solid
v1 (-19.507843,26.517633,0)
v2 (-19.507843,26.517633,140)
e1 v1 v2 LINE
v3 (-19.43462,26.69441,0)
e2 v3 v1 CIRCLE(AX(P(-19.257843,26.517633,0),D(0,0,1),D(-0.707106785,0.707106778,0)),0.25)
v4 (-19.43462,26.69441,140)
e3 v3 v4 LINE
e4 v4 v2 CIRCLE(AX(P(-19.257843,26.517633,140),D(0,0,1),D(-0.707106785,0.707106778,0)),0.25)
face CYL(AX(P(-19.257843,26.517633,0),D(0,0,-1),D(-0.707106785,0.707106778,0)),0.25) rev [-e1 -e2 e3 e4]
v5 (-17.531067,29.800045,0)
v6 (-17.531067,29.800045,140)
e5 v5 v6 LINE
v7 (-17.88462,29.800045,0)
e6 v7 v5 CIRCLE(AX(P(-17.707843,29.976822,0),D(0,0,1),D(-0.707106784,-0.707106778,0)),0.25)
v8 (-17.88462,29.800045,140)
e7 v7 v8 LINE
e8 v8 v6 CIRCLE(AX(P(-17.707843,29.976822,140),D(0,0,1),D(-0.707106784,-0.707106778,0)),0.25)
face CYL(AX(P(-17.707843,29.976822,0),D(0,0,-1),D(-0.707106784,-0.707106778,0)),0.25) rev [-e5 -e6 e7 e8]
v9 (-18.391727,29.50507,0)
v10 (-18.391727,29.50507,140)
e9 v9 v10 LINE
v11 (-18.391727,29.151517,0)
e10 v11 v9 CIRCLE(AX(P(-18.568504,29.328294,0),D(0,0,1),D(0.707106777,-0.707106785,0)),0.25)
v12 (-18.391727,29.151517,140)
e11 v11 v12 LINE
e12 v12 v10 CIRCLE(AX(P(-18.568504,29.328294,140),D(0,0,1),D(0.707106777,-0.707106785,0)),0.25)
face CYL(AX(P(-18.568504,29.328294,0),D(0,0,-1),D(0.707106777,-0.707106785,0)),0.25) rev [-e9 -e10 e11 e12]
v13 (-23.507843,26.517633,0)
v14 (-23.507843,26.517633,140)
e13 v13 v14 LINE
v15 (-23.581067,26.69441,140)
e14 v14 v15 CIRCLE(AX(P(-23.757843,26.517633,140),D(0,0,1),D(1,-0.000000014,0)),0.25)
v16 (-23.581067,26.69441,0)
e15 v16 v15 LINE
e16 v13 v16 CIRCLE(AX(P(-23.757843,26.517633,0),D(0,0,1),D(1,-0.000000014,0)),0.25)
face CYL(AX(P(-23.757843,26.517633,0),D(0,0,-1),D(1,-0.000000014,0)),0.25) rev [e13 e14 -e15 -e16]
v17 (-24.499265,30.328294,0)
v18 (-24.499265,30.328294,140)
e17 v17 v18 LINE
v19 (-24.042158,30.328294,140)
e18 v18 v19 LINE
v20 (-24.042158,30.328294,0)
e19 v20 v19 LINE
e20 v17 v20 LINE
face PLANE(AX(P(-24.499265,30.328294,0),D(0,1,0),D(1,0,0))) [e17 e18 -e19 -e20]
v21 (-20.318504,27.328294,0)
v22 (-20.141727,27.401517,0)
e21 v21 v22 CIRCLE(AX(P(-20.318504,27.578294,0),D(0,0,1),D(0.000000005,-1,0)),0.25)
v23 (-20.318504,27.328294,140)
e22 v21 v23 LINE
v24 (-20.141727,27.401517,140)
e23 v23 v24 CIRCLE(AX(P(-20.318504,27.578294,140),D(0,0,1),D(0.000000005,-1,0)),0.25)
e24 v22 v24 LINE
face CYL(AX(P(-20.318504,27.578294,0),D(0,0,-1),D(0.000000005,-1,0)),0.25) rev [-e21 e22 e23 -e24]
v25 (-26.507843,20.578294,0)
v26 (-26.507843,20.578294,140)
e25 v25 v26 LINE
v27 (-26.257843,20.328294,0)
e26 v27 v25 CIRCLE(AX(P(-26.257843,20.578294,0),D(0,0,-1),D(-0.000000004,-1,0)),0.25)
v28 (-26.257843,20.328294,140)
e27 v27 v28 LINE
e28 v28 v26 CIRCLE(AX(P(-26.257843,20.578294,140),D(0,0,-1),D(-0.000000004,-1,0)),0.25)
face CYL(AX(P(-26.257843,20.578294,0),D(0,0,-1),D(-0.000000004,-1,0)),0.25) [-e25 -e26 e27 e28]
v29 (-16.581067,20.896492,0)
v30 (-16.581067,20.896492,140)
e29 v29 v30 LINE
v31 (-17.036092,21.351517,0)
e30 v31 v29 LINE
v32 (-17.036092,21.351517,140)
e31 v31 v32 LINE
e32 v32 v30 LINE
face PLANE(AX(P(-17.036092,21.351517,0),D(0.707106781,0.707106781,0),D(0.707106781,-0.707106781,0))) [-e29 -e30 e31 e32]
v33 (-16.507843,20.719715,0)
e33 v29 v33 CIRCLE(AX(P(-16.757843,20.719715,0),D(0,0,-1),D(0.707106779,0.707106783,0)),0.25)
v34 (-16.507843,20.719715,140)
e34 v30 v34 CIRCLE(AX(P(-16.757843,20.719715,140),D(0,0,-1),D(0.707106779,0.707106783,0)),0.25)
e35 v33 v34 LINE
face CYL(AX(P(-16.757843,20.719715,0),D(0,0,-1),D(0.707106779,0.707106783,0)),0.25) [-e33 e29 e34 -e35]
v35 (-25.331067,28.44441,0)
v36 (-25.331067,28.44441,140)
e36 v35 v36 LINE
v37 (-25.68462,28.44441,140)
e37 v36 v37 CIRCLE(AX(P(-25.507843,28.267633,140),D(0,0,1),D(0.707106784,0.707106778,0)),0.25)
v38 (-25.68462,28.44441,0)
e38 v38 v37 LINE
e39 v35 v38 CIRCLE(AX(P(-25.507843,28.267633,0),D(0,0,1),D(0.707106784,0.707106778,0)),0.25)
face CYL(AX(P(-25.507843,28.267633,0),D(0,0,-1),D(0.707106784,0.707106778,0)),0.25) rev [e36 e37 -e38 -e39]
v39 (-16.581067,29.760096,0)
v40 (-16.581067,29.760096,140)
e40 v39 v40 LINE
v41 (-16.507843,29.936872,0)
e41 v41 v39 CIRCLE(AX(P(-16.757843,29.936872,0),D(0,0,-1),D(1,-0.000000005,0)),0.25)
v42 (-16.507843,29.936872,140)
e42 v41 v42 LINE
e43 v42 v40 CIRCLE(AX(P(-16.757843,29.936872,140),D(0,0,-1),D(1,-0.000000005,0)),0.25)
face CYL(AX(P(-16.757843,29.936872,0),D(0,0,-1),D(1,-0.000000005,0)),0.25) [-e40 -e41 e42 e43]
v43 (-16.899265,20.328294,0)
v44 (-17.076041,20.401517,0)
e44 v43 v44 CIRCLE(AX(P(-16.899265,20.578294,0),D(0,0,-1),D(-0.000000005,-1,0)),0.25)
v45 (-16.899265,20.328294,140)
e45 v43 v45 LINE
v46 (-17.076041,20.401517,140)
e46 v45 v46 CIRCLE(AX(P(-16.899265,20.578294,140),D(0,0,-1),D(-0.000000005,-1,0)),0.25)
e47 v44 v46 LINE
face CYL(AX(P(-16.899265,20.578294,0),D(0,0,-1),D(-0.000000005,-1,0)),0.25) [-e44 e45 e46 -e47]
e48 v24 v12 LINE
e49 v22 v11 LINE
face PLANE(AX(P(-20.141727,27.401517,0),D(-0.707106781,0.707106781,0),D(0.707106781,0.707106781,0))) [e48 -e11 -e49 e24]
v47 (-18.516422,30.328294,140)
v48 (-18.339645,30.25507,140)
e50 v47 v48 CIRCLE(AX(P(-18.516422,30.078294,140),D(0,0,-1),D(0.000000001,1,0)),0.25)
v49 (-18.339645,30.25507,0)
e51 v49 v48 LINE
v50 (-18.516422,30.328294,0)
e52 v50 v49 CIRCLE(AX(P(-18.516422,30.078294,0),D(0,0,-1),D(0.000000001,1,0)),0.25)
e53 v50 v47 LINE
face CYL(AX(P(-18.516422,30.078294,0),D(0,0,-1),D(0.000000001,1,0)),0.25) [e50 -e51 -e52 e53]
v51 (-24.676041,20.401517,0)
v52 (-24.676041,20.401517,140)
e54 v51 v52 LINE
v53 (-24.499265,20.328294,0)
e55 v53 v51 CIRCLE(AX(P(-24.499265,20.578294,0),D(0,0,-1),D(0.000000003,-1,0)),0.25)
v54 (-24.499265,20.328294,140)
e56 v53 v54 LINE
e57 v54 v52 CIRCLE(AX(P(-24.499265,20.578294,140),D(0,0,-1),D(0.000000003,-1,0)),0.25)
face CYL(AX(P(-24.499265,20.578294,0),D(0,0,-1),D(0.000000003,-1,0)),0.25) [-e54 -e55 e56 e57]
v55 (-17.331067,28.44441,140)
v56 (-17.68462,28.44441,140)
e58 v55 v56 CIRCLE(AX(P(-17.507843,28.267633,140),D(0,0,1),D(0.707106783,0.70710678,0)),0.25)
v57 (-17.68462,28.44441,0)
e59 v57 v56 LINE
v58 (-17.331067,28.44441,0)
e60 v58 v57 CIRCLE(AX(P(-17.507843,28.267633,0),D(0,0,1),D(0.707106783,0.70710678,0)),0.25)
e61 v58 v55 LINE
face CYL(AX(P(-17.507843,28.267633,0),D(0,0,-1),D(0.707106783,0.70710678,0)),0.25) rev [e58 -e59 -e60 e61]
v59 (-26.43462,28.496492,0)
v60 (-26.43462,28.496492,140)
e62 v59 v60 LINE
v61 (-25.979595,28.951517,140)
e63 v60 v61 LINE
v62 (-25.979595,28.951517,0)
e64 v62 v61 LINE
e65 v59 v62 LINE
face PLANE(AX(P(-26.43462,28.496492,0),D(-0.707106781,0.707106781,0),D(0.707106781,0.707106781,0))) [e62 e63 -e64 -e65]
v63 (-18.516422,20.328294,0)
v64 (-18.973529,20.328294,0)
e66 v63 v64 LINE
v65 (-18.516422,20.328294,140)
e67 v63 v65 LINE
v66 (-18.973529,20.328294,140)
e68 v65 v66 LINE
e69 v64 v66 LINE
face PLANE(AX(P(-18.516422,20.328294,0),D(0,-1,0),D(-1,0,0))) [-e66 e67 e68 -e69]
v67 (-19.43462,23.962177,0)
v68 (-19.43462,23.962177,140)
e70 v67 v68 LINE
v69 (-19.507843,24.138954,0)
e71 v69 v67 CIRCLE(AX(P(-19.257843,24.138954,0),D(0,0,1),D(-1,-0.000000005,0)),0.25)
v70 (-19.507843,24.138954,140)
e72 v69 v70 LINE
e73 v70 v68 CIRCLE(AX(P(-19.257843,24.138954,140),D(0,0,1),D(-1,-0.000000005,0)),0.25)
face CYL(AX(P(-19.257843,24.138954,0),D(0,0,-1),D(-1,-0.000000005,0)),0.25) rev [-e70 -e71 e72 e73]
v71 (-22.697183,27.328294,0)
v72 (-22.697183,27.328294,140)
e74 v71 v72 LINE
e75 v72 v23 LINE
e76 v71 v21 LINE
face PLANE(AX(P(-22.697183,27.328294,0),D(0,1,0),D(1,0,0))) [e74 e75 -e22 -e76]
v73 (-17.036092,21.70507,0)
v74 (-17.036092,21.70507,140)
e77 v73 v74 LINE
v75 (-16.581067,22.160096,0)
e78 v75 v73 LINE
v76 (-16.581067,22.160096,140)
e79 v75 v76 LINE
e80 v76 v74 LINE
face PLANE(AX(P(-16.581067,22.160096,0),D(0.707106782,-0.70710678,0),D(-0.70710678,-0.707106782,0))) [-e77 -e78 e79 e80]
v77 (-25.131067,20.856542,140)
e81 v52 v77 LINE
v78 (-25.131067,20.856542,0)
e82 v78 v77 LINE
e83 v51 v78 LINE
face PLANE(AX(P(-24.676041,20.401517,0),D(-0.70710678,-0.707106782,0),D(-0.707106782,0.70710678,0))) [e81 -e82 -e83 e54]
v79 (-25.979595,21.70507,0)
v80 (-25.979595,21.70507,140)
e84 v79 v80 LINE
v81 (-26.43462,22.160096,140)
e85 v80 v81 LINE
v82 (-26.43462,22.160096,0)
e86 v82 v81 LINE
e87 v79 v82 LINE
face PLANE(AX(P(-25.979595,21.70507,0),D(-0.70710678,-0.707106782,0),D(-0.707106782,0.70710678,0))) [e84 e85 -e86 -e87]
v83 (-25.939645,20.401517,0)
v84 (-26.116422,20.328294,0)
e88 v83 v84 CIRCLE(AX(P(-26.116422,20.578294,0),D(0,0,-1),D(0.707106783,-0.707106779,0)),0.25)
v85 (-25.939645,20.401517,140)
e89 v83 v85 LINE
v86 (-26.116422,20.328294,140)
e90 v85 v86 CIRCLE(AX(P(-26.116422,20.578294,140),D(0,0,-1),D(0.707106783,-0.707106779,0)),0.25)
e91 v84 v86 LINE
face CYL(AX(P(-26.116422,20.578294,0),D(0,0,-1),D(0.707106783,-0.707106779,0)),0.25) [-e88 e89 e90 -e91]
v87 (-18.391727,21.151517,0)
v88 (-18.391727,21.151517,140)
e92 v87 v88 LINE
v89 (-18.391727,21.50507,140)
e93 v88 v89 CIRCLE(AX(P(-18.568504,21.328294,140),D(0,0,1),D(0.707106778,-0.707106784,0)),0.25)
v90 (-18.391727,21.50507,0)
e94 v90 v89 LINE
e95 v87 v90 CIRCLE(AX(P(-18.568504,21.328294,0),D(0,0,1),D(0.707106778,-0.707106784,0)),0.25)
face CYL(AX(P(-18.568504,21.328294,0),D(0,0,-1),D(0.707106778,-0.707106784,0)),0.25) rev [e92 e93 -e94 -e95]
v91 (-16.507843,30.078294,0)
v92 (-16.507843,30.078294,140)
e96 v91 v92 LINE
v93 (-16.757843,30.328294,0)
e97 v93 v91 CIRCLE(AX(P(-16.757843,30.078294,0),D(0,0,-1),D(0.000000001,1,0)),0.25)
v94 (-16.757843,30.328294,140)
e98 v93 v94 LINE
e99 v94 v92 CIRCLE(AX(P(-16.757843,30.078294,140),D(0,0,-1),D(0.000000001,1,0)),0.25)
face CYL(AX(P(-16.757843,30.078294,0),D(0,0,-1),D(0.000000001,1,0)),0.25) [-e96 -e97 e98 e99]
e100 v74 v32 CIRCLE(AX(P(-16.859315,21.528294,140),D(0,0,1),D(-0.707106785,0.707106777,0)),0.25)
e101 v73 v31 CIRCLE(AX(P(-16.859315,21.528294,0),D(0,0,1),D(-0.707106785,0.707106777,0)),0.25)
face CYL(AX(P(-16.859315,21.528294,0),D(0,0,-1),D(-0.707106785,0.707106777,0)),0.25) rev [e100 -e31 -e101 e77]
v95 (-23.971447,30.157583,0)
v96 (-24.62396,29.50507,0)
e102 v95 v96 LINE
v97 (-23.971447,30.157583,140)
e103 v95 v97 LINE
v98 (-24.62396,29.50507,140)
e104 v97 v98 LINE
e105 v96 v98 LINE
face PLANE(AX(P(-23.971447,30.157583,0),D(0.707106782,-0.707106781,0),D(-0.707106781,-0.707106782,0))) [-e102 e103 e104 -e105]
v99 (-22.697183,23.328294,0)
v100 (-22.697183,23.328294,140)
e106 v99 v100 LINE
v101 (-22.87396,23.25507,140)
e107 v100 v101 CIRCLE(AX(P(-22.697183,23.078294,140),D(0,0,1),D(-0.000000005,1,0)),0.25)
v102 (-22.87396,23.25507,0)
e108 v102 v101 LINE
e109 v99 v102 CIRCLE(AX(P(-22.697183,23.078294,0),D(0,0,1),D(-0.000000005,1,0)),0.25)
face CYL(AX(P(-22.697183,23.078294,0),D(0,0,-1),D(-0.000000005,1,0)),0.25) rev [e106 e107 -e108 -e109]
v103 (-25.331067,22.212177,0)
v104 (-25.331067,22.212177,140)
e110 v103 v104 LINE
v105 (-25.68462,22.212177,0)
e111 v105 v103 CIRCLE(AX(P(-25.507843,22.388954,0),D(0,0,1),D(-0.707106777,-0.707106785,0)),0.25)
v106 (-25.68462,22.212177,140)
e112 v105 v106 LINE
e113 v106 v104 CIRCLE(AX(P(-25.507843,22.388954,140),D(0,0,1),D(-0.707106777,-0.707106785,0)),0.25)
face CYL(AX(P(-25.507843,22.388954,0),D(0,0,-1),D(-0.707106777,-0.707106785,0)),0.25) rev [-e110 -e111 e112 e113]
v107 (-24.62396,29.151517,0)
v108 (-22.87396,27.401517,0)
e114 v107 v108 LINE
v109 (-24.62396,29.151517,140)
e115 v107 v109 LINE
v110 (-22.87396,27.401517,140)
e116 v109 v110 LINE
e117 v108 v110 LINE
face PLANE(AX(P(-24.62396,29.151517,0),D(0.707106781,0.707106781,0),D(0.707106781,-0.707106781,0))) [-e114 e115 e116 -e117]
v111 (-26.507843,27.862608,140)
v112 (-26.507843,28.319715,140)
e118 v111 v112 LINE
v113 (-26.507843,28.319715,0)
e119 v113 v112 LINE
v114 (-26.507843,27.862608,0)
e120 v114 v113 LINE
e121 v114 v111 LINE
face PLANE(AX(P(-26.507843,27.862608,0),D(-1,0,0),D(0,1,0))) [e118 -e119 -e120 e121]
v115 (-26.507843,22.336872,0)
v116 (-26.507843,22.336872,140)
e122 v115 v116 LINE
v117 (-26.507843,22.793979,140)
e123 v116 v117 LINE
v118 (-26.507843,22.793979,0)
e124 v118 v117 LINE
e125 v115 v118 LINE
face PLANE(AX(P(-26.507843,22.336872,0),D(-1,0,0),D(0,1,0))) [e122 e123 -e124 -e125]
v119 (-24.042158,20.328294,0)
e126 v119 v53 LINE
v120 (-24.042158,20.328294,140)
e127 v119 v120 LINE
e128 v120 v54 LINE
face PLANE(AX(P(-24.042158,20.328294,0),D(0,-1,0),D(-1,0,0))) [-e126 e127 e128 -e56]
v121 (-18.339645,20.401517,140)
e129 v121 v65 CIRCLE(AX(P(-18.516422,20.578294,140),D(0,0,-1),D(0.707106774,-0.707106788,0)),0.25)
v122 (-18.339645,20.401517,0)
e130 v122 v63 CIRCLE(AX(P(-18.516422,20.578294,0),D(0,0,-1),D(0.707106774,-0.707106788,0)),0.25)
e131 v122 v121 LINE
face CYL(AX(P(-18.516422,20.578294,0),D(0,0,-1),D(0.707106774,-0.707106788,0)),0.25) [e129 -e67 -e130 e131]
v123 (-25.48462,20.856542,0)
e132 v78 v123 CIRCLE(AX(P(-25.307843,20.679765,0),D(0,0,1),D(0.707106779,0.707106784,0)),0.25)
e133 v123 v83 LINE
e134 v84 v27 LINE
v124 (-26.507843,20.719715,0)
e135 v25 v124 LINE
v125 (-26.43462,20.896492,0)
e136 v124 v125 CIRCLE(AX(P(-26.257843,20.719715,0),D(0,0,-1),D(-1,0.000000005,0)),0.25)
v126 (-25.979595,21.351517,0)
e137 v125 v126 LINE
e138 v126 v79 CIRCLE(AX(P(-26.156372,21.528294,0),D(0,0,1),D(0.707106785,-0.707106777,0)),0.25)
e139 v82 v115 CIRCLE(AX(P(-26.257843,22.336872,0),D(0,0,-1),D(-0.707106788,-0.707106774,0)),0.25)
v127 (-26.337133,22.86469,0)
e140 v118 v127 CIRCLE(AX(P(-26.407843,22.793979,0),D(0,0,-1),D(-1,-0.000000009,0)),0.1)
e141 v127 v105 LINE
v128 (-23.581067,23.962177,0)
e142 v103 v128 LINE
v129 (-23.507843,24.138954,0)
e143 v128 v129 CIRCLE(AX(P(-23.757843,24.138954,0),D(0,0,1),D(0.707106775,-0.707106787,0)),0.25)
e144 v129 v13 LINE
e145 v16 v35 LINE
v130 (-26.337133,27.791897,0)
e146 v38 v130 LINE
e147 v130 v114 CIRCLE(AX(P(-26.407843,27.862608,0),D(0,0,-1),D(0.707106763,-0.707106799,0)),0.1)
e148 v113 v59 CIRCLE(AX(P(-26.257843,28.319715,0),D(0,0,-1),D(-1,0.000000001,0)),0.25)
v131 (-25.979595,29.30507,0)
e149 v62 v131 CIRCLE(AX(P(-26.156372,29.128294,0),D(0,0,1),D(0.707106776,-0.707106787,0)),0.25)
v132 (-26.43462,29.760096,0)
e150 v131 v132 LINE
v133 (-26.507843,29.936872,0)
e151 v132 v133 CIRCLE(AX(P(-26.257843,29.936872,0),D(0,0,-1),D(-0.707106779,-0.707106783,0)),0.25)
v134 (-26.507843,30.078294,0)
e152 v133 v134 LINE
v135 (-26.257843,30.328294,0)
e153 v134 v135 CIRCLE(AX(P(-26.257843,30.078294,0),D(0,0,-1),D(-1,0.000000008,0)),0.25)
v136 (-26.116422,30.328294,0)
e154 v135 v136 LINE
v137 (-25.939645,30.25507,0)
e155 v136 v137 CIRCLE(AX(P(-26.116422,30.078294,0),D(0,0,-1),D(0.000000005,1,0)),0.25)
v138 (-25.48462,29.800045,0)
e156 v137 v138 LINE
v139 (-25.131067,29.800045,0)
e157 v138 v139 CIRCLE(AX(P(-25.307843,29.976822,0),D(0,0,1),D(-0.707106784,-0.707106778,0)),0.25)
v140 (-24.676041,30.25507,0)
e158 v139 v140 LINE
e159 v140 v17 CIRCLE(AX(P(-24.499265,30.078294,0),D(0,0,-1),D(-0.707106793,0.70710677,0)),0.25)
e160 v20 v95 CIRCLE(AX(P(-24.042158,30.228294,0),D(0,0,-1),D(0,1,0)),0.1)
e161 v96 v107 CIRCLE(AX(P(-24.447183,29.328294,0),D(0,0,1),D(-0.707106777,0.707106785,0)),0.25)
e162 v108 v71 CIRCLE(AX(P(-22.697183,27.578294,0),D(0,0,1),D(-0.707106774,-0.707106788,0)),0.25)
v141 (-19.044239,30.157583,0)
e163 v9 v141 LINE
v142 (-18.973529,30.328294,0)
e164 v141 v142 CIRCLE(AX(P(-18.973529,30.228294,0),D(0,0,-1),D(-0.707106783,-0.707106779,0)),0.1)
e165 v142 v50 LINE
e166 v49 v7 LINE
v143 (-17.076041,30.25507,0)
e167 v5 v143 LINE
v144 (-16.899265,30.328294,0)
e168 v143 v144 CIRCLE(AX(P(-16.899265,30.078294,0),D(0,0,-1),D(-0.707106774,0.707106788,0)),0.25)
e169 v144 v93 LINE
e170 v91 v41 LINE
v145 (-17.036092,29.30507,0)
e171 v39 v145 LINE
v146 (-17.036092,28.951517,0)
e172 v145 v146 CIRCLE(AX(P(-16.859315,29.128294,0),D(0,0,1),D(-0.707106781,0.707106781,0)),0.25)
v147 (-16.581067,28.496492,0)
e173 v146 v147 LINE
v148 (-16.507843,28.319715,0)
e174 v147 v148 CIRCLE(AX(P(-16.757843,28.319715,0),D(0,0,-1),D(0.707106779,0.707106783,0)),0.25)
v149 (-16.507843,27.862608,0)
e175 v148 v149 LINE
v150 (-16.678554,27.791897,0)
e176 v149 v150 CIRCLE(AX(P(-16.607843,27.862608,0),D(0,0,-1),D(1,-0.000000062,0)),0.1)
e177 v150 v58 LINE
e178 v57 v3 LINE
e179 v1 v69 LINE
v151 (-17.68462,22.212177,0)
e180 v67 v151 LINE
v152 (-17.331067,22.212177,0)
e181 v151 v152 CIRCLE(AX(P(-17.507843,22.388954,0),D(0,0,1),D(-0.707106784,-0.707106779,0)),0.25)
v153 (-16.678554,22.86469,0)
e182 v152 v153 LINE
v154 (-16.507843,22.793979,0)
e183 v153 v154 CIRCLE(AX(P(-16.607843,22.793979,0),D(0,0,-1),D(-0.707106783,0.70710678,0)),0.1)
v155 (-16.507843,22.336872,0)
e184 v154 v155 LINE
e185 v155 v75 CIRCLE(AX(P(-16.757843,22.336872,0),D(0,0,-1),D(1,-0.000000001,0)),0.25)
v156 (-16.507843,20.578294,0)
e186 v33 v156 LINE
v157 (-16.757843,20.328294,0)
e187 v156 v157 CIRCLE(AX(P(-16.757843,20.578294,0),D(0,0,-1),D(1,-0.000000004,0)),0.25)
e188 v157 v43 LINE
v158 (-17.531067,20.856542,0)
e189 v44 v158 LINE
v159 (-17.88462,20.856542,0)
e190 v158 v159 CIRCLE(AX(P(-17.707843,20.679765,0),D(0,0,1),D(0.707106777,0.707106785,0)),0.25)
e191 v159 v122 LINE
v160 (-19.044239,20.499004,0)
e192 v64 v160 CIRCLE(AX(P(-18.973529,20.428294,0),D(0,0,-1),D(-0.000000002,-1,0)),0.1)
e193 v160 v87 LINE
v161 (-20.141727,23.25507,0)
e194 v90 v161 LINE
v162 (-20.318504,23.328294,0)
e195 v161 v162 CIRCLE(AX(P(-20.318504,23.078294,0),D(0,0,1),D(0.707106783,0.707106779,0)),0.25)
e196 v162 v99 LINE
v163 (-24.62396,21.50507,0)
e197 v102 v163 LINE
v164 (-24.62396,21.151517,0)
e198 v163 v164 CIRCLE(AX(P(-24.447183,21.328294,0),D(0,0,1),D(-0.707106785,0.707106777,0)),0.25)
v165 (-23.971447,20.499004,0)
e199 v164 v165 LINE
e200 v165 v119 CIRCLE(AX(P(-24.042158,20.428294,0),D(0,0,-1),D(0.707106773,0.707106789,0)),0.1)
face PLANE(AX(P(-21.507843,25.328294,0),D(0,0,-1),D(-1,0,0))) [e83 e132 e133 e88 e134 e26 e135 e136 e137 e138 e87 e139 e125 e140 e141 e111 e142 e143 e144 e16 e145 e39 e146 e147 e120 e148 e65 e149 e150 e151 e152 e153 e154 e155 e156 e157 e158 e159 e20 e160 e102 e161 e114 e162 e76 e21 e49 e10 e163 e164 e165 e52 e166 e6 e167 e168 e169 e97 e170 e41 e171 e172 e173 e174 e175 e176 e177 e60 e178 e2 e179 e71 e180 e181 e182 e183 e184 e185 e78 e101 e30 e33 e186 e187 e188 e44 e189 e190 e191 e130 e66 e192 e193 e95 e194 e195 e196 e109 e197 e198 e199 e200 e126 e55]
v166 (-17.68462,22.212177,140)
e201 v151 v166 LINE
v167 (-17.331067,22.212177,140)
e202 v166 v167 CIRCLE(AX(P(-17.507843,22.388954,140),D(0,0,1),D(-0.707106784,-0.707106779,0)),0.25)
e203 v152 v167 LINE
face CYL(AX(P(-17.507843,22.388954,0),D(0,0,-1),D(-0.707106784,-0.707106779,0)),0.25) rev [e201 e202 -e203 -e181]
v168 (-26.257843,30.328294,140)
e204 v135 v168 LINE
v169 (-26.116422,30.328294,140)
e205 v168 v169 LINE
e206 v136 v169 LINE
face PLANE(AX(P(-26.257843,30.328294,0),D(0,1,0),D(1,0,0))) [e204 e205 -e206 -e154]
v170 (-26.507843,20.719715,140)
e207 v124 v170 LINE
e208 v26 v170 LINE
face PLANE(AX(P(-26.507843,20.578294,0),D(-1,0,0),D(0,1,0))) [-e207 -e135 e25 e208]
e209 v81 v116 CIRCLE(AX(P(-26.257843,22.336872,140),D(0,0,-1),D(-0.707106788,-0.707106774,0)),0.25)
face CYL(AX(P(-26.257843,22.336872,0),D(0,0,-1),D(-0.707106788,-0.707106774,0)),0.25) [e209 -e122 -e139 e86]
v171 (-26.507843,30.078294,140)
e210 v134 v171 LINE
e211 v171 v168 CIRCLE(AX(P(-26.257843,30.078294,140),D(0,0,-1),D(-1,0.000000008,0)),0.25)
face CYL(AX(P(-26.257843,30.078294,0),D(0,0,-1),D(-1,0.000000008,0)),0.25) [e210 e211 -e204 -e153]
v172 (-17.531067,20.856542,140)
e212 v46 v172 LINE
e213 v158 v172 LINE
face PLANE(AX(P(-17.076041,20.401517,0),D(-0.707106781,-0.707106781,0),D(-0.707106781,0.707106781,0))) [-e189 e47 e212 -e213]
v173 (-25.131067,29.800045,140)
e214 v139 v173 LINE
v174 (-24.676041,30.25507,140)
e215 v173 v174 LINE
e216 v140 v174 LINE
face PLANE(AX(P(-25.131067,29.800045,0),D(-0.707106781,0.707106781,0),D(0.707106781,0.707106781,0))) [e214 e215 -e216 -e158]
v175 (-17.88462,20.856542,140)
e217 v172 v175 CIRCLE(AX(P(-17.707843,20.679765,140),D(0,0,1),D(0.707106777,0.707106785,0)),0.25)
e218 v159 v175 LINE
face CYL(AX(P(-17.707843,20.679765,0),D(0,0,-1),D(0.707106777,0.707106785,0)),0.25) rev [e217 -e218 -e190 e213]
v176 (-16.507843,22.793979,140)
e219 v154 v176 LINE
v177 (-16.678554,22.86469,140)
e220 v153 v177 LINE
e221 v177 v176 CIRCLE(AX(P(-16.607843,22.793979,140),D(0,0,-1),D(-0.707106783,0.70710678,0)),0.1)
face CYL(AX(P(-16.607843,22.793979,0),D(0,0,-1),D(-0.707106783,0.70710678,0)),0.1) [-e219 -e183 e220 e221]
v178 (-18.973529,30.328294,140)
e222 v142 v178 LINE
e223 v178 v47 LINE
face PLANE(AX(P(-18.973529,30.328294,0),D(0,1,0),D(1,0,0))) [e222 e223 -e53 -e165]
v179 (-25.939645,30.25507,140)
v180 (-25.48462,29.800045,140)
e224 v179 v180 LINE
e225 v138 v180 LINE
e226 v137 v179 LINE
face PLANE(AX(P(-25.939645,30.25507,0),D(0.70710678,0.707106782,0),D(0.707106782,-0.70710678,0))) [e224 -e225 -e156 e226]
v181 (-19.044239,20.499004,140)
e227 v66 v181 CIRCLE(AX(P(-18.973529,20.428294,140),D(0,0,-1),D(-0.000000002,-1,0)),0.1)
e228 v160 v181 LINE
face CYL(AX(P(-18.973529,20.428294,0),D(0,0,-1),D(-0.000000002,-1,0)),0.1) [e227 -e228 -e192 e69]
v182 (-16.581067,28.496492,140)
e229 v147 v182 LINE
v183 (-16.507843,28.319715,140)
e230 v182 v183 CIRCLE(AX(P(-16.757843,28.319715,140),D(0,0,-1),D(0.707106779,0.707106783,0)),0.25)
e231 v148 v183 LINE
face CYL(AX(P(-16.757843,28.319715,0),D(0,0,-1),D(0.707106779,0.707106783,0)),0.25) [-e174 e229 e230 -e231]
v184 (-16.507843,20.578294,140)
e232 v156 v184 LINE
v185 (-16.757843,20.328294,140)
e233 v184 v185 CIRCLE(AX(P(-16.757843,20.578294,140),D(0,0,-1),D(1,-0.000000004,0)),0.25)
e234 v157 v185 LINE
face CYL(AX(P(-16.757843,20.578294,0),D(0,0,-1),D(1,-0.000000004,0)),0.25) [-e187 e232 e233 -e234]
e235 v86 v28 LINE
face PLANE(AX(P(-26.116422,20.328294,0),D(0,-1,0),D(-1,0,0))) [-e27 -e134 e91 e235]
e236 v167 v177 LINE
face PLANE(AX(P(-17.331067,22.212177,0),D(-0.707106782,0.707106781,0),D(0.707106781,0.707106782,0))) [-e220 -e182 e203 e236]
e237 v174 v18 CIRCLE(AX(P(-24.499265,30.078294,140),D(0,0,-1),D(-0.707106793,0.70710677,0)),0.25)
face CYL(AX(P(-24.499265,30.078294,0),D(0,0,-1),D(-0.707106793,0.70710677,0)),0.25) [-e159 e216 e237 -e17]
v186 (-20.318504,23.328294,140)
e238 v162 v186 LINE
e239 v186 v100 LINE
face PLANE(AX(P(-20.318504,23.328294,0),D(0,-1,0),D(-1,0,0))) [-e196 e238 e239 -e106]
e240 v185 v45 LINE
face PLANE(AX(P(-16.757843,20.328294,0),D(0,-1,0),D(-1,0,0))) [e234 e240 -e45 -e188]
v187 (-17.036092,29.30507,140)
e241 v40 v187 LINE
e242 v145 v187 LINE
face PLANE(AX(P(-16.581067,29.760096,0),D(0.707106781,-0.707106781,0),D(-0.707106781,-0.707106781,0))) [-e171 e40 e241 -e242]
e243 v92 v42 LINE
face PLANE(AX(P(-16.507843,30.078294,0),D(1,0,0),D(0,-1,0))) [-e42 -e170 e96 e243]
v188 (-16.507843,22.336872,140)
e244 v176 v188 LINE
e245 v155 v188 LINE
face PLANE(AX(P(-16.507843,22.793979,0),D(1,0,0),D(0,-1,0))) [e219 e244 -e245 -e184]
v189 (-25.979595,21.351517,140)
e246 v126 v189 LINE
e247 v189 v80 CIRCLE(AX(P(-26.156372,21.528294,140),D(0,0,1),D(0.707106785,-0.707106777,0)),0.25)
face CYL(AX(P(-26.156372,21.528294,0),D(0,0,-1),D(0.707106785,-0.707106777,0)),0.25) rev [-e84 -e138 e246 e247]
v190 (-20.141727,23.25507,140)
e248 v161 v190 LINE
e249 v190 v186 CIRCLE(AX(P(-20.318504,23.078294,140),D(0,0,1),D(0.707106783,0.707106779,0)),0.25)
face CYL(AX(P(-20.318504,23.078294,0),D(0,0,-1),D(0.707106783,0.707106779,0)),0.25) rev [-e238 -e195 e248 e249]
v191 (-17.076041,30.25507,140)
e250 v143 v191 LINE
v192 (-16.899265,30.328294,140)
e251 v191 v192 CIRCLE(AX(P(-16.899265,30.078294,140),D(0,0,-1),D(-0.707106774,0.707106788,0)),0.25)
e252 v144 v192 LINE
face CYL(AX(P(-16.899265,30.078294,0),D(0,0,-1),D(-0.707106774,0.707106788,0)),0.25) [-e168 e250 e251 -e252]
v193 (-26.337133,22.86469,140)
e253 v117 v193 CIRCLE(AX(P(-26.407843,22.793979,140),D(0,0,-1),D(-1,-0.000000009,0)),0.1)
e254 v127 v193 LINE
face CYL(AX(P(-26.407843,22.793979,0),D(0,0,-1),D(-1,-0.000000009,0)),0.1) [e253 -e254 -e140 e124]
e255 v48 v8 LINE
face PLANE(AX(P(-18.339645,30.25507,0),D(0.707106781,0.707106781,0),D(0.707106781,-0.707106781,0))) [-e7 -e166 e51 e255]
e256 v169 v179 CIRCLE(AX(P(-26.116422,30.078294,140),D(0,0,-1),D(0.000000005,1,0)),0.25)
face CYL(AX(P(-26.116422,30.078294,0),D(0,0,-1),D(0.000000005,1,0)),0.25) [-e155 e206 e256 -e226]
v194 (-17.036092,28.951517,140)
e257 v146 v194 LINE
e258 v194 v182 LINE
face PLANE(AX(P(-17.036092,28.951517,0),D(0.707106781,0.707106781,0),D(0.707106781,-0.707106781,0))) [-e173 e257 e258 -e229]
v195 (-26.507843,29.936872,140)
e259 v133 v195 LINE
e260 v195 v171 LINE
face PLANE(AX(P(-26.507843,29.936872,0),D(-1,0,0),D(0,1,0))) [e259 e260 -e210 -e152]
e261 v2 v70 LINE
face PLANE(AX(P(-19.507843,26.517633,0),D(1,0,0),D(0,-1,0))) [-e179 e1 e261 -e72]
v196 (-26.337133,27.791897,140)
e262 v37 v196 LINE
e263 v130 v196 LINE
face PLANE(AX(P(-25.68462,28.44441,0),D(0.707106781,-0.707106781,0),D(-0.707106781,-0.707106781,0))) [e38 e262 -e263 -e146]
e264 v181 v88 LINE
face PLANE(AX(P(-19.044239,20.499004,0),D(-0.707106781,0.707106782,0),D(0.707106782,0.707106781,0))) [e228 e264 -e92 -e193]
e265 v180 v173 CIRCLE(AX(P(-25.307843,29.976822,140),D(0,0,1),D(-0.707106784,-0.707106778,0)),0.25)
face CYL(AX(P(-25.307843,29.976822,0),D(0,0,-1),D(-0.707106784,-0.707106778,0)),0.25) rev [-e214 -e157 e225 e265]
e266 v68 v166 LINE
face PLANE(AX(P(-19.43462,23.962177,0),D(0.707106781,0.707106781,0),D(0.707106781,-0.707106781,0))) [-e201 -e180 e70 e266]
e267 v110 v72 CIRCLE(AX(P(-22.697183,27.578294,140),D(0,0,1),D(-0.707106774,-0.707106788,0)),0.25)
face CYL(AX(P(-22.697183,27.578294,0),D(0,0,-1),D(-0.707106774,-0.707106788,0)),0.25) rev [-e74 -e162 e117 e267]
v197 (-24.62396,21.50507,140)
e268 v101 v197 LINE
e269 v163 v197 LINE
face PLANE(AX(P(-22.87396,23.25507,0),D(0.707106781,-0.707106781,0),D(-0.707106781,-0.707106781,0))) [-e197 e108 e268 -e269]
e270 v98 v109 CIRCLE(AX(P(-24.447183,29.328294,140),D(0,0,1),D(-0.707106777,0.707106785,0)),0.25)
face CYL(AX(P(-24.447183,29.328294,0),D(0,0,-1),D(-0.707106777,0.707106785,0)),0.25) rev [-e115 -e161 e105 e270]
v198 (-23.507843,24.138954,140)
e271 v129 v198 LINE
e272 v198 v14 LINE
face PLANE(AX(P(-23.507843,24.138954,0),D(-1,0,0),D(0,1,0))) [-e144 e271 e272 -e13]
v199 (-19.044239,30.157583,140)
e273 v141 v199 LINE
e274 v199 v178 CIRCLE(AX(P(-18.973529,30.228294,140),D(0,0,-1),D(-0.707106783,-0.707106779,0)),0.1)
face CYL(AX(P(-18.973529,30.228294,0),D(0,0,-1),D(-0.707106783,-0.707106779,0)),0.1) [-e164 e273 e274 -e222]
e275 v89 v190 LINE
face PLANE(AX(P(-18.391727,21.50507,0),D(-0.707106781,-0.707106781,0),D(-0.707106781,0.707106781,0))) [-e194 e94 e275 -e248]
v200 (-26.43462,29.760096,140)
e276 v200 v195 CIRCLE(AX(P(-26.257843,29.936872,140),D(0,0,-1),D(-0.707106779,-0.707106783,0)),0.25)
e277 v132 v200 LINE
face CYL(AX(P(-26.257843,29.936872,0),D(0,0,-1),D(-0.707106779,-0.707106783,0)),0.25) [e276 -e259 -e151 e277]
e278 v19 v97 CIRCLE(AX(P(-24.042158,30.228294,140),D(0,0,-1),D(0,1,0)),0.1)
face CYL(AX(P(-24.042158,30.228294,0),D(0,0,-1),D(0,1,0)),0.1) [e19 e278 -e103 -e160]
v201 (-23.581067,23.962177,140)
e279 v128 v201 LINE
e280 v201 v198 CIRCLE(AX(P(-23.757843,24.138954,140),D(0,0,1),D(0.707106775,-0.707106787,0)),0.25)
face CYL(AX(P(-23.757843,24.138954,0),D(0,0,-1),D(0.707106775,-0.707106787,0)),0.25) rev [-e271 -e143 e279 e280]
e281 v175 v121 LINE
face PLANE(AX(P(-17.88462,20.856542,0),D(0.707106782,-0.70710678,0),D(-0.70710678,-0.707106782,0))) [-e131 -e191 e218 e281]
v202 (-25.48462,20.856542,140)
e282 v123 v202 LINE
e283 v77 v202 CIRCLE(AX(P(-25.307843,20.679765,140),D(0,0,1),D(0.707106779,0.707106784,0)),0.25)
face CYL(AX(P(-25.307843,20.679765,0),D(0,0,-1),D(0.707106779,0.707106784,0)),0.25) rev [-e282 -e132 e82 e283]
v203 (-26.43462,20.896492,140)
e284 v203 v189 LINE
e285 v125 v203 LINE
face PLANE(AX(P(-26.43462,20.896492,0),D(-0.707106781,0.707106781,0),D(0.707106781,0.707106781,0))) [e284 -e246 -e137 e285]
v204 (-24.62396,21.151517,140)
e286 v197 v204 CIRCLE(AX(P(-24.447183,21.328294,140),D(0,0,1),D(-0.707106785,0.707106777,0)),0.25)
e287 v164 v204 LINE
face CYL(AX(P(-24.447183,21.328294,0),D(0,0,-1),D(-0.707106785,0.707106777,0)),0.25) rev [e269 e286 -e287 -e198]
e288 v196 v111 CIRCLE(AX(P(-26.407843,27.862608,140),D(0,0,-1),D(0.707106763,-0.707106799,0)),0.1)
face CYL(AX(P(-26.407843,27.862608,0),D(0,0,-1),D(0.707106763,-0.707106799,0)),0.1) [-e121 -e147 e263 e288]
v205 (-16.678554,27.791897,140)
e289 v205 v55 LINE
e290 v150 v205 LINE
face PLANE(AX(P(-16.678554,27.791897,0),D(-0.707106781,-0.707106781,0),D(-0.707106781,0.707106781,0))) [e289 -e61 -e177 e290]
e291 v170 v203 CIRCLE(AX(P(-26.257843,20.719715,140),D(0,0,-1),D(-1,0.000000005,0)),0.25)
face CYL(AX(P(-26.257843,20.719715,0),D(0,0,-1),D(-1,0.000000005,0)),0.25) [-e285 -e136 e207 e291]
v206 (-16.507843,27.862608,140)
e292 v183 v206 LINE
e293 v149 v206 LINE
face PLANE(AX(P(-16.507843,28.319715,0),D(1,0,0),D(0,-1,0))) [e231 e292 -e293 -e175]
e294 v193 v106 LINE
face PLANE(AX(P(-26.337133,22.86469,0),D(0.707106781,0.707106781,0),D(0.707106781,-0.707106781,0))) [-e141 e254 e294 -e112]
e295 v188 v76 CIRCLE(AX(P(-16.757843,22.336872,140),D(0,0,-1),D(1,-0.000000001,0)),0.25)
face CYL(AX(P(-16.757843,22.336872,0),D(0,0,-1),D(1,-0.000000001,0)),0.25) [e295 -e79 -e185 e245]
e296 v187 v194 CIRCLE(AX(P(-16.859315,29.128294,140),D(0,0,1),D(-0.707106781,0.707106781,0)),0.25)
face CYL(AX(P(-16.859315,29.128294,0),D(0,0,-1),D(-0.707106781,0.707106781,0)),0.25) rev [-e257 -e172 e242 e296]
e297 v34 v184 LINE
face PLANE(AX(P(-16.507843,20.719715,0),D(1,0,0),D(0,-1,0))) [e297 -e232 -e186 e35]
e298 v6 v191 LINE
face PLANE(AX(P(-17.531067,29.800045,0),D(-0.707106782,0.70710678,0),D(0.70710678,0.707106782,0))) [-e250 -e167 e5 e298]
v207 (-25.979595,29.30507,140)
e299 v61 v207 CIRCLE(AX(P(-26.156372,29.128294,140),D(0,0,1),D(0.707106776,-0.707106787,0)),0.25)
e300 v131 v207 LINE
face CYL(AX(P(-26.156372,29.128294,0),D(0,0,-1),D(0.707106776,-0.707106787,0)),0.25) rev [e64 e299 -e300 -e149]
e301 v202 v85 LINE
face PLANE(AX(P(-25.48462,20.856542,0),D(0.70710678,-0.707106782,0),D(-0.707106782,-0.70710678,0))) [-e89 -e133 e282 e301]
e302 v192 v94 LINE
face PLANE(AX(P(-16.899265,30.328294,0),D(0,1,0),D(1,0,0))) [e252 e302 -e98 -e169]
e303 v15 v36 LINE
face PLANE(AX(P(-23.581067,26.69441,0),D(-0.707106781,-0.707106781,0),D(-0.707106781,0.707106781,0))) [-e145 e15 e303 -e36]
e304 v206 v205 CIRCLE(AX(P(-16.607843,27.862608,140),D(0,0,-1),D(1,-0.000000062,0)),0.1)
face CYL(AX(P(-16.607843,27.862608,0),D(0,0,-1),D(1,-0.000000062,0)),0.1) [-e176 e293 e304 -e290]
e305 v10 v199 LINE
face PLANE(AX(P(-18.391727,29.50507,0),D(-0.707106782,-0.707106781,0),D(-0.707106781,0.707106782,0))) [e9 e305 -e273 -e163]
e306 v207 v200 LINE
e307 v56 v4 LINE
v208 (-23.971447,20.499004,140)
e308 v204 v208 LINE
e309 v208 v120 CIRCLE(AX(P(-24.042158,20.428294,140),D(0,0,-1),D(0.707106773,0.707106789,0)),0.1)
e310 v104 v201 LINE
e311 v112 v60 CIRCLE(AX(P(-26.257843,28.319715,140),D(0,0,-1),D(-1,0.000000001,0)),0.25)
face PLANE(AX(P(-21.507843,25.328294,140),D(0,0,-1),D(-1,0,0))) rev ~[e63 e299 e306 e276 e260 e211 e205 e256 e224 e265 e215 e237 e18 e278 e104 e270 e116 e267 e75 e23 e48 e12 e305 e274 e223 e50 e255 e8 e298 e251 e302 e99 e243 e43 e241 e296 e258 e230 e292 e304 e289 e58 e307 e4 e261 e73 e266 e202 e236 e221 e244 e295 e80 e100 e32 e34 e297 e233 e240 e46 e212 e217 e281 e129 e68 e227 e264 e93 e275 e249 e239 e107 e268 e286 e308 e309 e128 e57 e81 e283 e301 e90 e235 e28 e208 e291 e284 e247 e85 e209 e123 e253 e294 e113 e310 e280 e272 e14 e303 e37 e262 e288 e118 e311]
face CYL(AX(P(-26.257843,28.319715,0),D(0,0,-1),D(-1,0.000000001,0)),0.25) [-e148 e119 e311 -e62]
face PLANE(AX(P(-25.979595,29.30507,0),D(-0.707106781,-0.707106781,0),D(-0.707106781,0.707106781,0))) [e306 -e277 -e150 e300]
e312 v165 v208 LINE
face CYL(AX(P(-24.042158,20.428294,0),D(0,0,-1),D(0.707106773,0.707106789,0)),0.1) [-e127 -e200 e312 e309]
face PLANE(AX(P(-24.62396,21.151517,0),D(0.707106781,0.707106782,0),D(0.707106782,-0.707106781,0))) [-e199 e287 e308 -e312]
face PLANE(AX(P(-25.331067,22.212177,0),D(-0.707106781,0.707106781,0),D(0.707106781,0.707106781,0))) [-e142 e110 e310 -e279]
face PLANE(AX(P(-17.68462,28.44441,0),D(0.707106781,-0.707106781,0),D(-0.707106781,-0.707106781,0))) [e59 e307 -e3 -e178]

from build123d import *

# Parameters (mm, degrees)
BOSS_EXTRUDE1_DEPTH = 140


with BuildPart() as part:
    # Sketch1 → Boss-Extrude1 (new body)
    with BuildSketch(Plane.XY):
        with BuildLine():
            Line((-26.434620061, 28.496491655), (-25.979594809, 28.951516907))
            ThreePointArc((-25.979594809, 28.951516907), (-25.906371503, 29.128293603), (-25.979594808, 29.305070299))
            Line((-25.979594808, 29.305070299), (-26.43462006, 29.760095551))
            ThreePointArc((-26.43462006, 29.760095551), (-26.488813248, 29.841201388), (-26.507843365, 29.936872247))
            Line((-26.507843365, 29.936872247), (-26.507843365, 30.078293605))
            ThreePointArc((-26.507843365, 30.078293605), (-26.43462006, 30.255070299), (-26.257843366, 30.328293604))
            Line((-26.257843366, 30.328293604), (-26.11642201, 30.328293604))
            ThreePointArc((-26.11642201, 30.328293604), (-26.020751153, 30.309263487), (-25.939645316, 30.255070299))
            Line((-25.939645316, 30.255070299), (-25.484620061, 29.800045045))
            ThreePointArc((-25.484620061, 29.800045045), (-25.307843366, 29.72682174), (-25.131066671, 29.800045045))
            Line((-25.131066671, 29.800045045), (-24.676041418, 30.255070298))
            ThreePointArc((-24.676041418, 30.255070298), (-24.594935581, 30.309263487), (-24.499264722, 30.328293604))
            Line((-24.499264722, 30.328293604), (-24.042157942, 30.328293604))
            ThreePointArc((-24.042157942, 30.328293604), (-23.949769989, 30.266561947), (-23.971447265, 30.157582926))
            Line((-23.971447265, 30.157582926), (-24.623959891, 29.505070299))
            ThreePointArc((-24.623959891, 29.505070299), (-24.697183196, 29.328293604), (-24.623959891, 29.15151691))
            Line((-24.623959891, 29.15151691), (-22.873959891, 27.401516909))
            ThreePointArc((-22.873959891, 27.401516909), (-22.792854054, 27.347323722), (-22.697183196, 27.328293605))
            Line((-22.697183196, 27.328293605), (-20.318503539, 27.328293605))
            ThreePointArc((-20.318503539, 27.328293605), (-20.222832681, 27.347323722), (-20.141726844, 27.401516909))
            Line((-20.141726844, 27.401516909), (-18.391726844, 29.15151691))
            ThreePointArc((-18.391726844, 29.15151691), (-18.318503539, 29.328293604), (-18.391726844, 29.505070299))
            Line((-18.391726844, 29.505070299), (-19.04423947, 30.157582926))
            ThreePointArc((-19.04423947, 30.157582926), (-19.065916745, 30.266561947), (-18.973528793, 30.328293604))
            Line((-18.973528793, 30.328293604), (-18.516422013, 30.328293604))
            ThreePointArc((-18.516422013, 30.328293604), (-18.420751155, 30.309263487), (-18.339645319, 30.2550703))
            Line((-18.339645319, 30.2550703), (-17.884620064, 29.800045045))
            ThreePointArc((-17.884620064, 29.800045045), (-17.707843369, 29.72682174), (-17.531066674, 29.800045045))
            Line((-17.531066674, 29.800045045), (-17.07604142, 30.2550703))
            ThreePointArc((-17.07604142, 30.2550703), (-16.994935583, 30.309263487), (-16.899264725, 30.328293604))
            Line((-16.899264725, 30.328293604), (-16.75784337, 30.328293604))
            ThreePointArc((-16.75784337, 30.328293604), (-16.581066675, 30.255070299), (-16.507843371, 30.078293605))
            Line((-16.507843371, 30.078293605), (-16.507843371, 29.936872247))
            ThreePointArc((-16.507843371, 29.936872247), (-16.526873488, 29.841201389), (-16.581066675, 29.760095552))
            Line((-16.581066675, 29.760095552), (-17.036091927, 29.3050703))
            ThreePointArc((-17.036091927, 29.3050703), (-17.109315232, 29.128293603), (-17.036091926, 28.951516907))
            Line((-17.036091926, 28.951516907), (-16.581066674, 28.496491655))
            ThreePointArc((-16.581066674, 28.496491655), (-16.526873486, 28.415385818), (-16.507843369, 28.31971496))
            Line((-16.507843369, 28.31971496), (-16.507843369, 27.862608178))
            ThreePointArc((-16.507843369, 27.862608178), (-16.569575025, 27.770220231), (-16.678554041, 27.791897499))
            Line((-16.678554041, 27.791897499), (-17.331066668, 28.444410126))
            ThreePointArc((-17.331066668, 28.444410126), (-17.507843364, 28.517633431), (-17.68462006, 28.444410125))
            Line((-17.68462006, 28.444410125), (-19.434620061, 26.694410125))
            ThreePointArc((-19.434620061, 26.694410125), (-19.488813248, 26.613304288), (-19.507843364, 26.51763343))
            Line((-19.507843364, 26.51763343), (-19.507843364, 24.138953775))
            ThreePointArc((-19.507843364, 24.138953775), (-19.488813247, 24.043282917), (-19.434620059, 23.962177079))
            Line((-19.434620059, 23.962177079), (-17.684620059, 22.212177079))
            ThreePointArc((-17.684620059, 22.212177079), (-17.507843363, 22.138953773), (-17.331066666, 22.212177077))
            Line((-17.331066666, 22.212177077), (-16.67855404, 22.864689704))
            ThreePointArc((-16.67855404, 22.864689704), (-16.569575019, 22.886366979), (-16.507843363, 22.793979027))
            Line((-16.507843363, 22.793979027), (-16.507843363, 22.336872245))
            ThreePointArc((-16.507843363, 22.336872245), (-16.52687348, 22.241201387), (-16.581066668, 22.16009555))
            Line((-16.581066668, 22.16009555), (-17.036091921, 21.705070296))
            ThreePointArc((-17.036091921, 21.705070296), (-17.109315225, 21.528293601), (-17.036091921, 21.351516906))
            Line((-17.036091921, 21.351516906), (-16.581066669, 20.896491654))
            ThreePointArc((-16.581066669, 20.896491654), (-16.526873481, 20.815385817), (-16.507843364, 20.719714959))
            Line((-16.507843364, 20.719714959), (-16.507843364, 20.578293601))
            ThreePointArc((-16.507843364, 20.578293601), (-16.581066669, 20.401516906), (-16.757843364, 20.328293601))
            Line((-16.757843364, 20.328293601), (-16.89926472, 20.328293601))
            ThreePointArc((-16.89926472, 20.328293601), (-16.994935578, 20.347323718), (-17.076041415, 20.401516905))
            Line((-17.076041415, 20.401516905), (-17.53106667, 20.85654216))
            ThreePointArc((-17.53106667, 20.85654216), (-17.707843365, 20.929765464), (-17.88462006, 20.85654216))
            Line((-17.88462006, 20.85654216), (-18.339645314, 20.401516905))
            ThreePointArc((-18.339645314, 20.401516905), (-18.420751151, 20.347323718), (-18.516422009, 20.328293601))
            Line((-18.516422009, 20.328293601), (-18.973528789, 20.328293601))
            ThreePointArc((-18.973528789, 20.328293601), (-19.065916743, 20.390025258), (-19.044239468, 20.499004281))
            Line((-19.044239468, 20.499004281), (-18.391726841, 21.151516907))
            ThreePointArc((-18.391726841, 21.151516907), (-18.318503536, 21.328293602), (-18.391726841, 21.505070297))
            Line((-18.391726841, 21.505070297), (-20.141726841, 23.255070297))
            ThreePointArc((-20.141726841, 23.255070297), (-20.222832678, 23.309263485), (-20.318503536, 23.328293602))
            Line((-20.318503536, 23.328293602), (-22.697183193, 23.328293602))
            ThreePointArc((-22.697183193, 23.328293602), (-22.792854051, 23.309263485), (-22.873959889, 23.255070297))
            Line((-22.873959889, 23.255070297), (-24.623959889, 21.505070297))
            ThreePointArc((-24.623959889, 21.505070297), (-24.697183193, 21.328293602), (-24.623959889, 21.151516907))
            Line((-24.623959889, 21.151516907), (-23.971447262, 20.499004281))
            ThreePointArc((-23.971447262, 20.499004281), (-23.949769986, 20.390025258), (-24.042157941, 20.328293601))
            Line((-24.042157941, 20.328293601), (-24.49926472, 20.328293601))
            ThreePointArc((-24.49926472, 20.328293601), (-24.594935579, 20.347323718), (-24.676041417, 20.401516907))
            Line((-24.676041417, 20.401516907), (-25.131066671, 20.85654216))
            ThreePointArc((-25.131066671, 20.85654216), (-25.307843365, 20.929765464), (-25.48462006, 20.85654216))
            Line((-25.48462006, 20.85654216), (-25.939645315, 20.401516906))
            ThreePointArc((-25.939645315, 20.401516906), (-26.020751152, 20.347323718), (-26.11642201, 20.328293601))
            Line((-26.11642201, 20.328293601), (-26.257843366, 20.328293601))
            ThreePointArc((-26.257843366, 20.328293601), (-26.434620061, 20.401516906), (-26.507843366, 20.578293601))
            Line((-26.507843366, 20.578293601), (-26.507843366, 20.719714959))
            ThreePointArc((-26.507843366, 20.719714959), (-26.488813249, 20.815385817), (-26.434620061, 20.896491655))
            Line((-26.434620061, 20.896491655), (-25.979594809, 21.351516907))
            ThreePointArc((-25.979594809, 21.351516907), (-25.906371505, 21.528293602), (-25.979594809, 21.705070297))
            Line((-25.979594809, 21.705070297), (-26.434620063, 22.16009555))
            ThreePointArc((-26.434620063, 22.16009555), (-26.48881325, 22.241201387), (-26.507843367, 22.336872245))
            Line((-26.507843367, 22.336872245), (-26.507843367, 22.793979027))
            ThreePointArc((-26.507843367, 22.793979027), (-26.446111711, 22.88636698), (-26.337132691, 22.864689705))
            Line((-26.337132691, 22.864689705), (-25.684620064, 22.212177078))
            ThreePointArc((-25.684620064, 22.212177078), (-25.507843369, 22.138953774), (-25.331066674, 22.212177078))
            Line((-25.331066674, 22.212177078), (-23.581066674, 23.962177078))
            ThreePointArc((-23.581066674, 23.962177078), (-23.526873485, 24.043282916), (-23.507843368, 24.138953775))
            Line((-23.507843368, 24.138953775), (-23.507843368, 26.51763343))
            ThreePointArc((-23.507843368, 26.51763343), (-23.526873484, 26.613304288), (-23.581066672, 26.694410125))
            Line((-23.581066672, 26.694410125), (-25.331066672, 28.444410125))
            ThreePointArc((-25.331066672, 28.444410125), (-25.507843367, 28.51763343), (-25.684620062, 28.444410125))
            Line((-25.684620062, 28.444410125), (-26.337132689, 27.791897498))
            ThreePointArc((-26.337132689, 27.791897498), (-26.44611171, 27.770220225), (-26.507843366, 27.862608178))
            Line((-26.507843366, 27.862608178), (-26.507843366, 28.31971496))
            ThreePointArc((-26.507843366, 28.31971496), (-26.488813249, 28.415385818), (-26.434620061, 28.496491655))
        make_face()
    extrude(amount=BOSS_EXTRUDE1_DEPTH)


solid = part.part
